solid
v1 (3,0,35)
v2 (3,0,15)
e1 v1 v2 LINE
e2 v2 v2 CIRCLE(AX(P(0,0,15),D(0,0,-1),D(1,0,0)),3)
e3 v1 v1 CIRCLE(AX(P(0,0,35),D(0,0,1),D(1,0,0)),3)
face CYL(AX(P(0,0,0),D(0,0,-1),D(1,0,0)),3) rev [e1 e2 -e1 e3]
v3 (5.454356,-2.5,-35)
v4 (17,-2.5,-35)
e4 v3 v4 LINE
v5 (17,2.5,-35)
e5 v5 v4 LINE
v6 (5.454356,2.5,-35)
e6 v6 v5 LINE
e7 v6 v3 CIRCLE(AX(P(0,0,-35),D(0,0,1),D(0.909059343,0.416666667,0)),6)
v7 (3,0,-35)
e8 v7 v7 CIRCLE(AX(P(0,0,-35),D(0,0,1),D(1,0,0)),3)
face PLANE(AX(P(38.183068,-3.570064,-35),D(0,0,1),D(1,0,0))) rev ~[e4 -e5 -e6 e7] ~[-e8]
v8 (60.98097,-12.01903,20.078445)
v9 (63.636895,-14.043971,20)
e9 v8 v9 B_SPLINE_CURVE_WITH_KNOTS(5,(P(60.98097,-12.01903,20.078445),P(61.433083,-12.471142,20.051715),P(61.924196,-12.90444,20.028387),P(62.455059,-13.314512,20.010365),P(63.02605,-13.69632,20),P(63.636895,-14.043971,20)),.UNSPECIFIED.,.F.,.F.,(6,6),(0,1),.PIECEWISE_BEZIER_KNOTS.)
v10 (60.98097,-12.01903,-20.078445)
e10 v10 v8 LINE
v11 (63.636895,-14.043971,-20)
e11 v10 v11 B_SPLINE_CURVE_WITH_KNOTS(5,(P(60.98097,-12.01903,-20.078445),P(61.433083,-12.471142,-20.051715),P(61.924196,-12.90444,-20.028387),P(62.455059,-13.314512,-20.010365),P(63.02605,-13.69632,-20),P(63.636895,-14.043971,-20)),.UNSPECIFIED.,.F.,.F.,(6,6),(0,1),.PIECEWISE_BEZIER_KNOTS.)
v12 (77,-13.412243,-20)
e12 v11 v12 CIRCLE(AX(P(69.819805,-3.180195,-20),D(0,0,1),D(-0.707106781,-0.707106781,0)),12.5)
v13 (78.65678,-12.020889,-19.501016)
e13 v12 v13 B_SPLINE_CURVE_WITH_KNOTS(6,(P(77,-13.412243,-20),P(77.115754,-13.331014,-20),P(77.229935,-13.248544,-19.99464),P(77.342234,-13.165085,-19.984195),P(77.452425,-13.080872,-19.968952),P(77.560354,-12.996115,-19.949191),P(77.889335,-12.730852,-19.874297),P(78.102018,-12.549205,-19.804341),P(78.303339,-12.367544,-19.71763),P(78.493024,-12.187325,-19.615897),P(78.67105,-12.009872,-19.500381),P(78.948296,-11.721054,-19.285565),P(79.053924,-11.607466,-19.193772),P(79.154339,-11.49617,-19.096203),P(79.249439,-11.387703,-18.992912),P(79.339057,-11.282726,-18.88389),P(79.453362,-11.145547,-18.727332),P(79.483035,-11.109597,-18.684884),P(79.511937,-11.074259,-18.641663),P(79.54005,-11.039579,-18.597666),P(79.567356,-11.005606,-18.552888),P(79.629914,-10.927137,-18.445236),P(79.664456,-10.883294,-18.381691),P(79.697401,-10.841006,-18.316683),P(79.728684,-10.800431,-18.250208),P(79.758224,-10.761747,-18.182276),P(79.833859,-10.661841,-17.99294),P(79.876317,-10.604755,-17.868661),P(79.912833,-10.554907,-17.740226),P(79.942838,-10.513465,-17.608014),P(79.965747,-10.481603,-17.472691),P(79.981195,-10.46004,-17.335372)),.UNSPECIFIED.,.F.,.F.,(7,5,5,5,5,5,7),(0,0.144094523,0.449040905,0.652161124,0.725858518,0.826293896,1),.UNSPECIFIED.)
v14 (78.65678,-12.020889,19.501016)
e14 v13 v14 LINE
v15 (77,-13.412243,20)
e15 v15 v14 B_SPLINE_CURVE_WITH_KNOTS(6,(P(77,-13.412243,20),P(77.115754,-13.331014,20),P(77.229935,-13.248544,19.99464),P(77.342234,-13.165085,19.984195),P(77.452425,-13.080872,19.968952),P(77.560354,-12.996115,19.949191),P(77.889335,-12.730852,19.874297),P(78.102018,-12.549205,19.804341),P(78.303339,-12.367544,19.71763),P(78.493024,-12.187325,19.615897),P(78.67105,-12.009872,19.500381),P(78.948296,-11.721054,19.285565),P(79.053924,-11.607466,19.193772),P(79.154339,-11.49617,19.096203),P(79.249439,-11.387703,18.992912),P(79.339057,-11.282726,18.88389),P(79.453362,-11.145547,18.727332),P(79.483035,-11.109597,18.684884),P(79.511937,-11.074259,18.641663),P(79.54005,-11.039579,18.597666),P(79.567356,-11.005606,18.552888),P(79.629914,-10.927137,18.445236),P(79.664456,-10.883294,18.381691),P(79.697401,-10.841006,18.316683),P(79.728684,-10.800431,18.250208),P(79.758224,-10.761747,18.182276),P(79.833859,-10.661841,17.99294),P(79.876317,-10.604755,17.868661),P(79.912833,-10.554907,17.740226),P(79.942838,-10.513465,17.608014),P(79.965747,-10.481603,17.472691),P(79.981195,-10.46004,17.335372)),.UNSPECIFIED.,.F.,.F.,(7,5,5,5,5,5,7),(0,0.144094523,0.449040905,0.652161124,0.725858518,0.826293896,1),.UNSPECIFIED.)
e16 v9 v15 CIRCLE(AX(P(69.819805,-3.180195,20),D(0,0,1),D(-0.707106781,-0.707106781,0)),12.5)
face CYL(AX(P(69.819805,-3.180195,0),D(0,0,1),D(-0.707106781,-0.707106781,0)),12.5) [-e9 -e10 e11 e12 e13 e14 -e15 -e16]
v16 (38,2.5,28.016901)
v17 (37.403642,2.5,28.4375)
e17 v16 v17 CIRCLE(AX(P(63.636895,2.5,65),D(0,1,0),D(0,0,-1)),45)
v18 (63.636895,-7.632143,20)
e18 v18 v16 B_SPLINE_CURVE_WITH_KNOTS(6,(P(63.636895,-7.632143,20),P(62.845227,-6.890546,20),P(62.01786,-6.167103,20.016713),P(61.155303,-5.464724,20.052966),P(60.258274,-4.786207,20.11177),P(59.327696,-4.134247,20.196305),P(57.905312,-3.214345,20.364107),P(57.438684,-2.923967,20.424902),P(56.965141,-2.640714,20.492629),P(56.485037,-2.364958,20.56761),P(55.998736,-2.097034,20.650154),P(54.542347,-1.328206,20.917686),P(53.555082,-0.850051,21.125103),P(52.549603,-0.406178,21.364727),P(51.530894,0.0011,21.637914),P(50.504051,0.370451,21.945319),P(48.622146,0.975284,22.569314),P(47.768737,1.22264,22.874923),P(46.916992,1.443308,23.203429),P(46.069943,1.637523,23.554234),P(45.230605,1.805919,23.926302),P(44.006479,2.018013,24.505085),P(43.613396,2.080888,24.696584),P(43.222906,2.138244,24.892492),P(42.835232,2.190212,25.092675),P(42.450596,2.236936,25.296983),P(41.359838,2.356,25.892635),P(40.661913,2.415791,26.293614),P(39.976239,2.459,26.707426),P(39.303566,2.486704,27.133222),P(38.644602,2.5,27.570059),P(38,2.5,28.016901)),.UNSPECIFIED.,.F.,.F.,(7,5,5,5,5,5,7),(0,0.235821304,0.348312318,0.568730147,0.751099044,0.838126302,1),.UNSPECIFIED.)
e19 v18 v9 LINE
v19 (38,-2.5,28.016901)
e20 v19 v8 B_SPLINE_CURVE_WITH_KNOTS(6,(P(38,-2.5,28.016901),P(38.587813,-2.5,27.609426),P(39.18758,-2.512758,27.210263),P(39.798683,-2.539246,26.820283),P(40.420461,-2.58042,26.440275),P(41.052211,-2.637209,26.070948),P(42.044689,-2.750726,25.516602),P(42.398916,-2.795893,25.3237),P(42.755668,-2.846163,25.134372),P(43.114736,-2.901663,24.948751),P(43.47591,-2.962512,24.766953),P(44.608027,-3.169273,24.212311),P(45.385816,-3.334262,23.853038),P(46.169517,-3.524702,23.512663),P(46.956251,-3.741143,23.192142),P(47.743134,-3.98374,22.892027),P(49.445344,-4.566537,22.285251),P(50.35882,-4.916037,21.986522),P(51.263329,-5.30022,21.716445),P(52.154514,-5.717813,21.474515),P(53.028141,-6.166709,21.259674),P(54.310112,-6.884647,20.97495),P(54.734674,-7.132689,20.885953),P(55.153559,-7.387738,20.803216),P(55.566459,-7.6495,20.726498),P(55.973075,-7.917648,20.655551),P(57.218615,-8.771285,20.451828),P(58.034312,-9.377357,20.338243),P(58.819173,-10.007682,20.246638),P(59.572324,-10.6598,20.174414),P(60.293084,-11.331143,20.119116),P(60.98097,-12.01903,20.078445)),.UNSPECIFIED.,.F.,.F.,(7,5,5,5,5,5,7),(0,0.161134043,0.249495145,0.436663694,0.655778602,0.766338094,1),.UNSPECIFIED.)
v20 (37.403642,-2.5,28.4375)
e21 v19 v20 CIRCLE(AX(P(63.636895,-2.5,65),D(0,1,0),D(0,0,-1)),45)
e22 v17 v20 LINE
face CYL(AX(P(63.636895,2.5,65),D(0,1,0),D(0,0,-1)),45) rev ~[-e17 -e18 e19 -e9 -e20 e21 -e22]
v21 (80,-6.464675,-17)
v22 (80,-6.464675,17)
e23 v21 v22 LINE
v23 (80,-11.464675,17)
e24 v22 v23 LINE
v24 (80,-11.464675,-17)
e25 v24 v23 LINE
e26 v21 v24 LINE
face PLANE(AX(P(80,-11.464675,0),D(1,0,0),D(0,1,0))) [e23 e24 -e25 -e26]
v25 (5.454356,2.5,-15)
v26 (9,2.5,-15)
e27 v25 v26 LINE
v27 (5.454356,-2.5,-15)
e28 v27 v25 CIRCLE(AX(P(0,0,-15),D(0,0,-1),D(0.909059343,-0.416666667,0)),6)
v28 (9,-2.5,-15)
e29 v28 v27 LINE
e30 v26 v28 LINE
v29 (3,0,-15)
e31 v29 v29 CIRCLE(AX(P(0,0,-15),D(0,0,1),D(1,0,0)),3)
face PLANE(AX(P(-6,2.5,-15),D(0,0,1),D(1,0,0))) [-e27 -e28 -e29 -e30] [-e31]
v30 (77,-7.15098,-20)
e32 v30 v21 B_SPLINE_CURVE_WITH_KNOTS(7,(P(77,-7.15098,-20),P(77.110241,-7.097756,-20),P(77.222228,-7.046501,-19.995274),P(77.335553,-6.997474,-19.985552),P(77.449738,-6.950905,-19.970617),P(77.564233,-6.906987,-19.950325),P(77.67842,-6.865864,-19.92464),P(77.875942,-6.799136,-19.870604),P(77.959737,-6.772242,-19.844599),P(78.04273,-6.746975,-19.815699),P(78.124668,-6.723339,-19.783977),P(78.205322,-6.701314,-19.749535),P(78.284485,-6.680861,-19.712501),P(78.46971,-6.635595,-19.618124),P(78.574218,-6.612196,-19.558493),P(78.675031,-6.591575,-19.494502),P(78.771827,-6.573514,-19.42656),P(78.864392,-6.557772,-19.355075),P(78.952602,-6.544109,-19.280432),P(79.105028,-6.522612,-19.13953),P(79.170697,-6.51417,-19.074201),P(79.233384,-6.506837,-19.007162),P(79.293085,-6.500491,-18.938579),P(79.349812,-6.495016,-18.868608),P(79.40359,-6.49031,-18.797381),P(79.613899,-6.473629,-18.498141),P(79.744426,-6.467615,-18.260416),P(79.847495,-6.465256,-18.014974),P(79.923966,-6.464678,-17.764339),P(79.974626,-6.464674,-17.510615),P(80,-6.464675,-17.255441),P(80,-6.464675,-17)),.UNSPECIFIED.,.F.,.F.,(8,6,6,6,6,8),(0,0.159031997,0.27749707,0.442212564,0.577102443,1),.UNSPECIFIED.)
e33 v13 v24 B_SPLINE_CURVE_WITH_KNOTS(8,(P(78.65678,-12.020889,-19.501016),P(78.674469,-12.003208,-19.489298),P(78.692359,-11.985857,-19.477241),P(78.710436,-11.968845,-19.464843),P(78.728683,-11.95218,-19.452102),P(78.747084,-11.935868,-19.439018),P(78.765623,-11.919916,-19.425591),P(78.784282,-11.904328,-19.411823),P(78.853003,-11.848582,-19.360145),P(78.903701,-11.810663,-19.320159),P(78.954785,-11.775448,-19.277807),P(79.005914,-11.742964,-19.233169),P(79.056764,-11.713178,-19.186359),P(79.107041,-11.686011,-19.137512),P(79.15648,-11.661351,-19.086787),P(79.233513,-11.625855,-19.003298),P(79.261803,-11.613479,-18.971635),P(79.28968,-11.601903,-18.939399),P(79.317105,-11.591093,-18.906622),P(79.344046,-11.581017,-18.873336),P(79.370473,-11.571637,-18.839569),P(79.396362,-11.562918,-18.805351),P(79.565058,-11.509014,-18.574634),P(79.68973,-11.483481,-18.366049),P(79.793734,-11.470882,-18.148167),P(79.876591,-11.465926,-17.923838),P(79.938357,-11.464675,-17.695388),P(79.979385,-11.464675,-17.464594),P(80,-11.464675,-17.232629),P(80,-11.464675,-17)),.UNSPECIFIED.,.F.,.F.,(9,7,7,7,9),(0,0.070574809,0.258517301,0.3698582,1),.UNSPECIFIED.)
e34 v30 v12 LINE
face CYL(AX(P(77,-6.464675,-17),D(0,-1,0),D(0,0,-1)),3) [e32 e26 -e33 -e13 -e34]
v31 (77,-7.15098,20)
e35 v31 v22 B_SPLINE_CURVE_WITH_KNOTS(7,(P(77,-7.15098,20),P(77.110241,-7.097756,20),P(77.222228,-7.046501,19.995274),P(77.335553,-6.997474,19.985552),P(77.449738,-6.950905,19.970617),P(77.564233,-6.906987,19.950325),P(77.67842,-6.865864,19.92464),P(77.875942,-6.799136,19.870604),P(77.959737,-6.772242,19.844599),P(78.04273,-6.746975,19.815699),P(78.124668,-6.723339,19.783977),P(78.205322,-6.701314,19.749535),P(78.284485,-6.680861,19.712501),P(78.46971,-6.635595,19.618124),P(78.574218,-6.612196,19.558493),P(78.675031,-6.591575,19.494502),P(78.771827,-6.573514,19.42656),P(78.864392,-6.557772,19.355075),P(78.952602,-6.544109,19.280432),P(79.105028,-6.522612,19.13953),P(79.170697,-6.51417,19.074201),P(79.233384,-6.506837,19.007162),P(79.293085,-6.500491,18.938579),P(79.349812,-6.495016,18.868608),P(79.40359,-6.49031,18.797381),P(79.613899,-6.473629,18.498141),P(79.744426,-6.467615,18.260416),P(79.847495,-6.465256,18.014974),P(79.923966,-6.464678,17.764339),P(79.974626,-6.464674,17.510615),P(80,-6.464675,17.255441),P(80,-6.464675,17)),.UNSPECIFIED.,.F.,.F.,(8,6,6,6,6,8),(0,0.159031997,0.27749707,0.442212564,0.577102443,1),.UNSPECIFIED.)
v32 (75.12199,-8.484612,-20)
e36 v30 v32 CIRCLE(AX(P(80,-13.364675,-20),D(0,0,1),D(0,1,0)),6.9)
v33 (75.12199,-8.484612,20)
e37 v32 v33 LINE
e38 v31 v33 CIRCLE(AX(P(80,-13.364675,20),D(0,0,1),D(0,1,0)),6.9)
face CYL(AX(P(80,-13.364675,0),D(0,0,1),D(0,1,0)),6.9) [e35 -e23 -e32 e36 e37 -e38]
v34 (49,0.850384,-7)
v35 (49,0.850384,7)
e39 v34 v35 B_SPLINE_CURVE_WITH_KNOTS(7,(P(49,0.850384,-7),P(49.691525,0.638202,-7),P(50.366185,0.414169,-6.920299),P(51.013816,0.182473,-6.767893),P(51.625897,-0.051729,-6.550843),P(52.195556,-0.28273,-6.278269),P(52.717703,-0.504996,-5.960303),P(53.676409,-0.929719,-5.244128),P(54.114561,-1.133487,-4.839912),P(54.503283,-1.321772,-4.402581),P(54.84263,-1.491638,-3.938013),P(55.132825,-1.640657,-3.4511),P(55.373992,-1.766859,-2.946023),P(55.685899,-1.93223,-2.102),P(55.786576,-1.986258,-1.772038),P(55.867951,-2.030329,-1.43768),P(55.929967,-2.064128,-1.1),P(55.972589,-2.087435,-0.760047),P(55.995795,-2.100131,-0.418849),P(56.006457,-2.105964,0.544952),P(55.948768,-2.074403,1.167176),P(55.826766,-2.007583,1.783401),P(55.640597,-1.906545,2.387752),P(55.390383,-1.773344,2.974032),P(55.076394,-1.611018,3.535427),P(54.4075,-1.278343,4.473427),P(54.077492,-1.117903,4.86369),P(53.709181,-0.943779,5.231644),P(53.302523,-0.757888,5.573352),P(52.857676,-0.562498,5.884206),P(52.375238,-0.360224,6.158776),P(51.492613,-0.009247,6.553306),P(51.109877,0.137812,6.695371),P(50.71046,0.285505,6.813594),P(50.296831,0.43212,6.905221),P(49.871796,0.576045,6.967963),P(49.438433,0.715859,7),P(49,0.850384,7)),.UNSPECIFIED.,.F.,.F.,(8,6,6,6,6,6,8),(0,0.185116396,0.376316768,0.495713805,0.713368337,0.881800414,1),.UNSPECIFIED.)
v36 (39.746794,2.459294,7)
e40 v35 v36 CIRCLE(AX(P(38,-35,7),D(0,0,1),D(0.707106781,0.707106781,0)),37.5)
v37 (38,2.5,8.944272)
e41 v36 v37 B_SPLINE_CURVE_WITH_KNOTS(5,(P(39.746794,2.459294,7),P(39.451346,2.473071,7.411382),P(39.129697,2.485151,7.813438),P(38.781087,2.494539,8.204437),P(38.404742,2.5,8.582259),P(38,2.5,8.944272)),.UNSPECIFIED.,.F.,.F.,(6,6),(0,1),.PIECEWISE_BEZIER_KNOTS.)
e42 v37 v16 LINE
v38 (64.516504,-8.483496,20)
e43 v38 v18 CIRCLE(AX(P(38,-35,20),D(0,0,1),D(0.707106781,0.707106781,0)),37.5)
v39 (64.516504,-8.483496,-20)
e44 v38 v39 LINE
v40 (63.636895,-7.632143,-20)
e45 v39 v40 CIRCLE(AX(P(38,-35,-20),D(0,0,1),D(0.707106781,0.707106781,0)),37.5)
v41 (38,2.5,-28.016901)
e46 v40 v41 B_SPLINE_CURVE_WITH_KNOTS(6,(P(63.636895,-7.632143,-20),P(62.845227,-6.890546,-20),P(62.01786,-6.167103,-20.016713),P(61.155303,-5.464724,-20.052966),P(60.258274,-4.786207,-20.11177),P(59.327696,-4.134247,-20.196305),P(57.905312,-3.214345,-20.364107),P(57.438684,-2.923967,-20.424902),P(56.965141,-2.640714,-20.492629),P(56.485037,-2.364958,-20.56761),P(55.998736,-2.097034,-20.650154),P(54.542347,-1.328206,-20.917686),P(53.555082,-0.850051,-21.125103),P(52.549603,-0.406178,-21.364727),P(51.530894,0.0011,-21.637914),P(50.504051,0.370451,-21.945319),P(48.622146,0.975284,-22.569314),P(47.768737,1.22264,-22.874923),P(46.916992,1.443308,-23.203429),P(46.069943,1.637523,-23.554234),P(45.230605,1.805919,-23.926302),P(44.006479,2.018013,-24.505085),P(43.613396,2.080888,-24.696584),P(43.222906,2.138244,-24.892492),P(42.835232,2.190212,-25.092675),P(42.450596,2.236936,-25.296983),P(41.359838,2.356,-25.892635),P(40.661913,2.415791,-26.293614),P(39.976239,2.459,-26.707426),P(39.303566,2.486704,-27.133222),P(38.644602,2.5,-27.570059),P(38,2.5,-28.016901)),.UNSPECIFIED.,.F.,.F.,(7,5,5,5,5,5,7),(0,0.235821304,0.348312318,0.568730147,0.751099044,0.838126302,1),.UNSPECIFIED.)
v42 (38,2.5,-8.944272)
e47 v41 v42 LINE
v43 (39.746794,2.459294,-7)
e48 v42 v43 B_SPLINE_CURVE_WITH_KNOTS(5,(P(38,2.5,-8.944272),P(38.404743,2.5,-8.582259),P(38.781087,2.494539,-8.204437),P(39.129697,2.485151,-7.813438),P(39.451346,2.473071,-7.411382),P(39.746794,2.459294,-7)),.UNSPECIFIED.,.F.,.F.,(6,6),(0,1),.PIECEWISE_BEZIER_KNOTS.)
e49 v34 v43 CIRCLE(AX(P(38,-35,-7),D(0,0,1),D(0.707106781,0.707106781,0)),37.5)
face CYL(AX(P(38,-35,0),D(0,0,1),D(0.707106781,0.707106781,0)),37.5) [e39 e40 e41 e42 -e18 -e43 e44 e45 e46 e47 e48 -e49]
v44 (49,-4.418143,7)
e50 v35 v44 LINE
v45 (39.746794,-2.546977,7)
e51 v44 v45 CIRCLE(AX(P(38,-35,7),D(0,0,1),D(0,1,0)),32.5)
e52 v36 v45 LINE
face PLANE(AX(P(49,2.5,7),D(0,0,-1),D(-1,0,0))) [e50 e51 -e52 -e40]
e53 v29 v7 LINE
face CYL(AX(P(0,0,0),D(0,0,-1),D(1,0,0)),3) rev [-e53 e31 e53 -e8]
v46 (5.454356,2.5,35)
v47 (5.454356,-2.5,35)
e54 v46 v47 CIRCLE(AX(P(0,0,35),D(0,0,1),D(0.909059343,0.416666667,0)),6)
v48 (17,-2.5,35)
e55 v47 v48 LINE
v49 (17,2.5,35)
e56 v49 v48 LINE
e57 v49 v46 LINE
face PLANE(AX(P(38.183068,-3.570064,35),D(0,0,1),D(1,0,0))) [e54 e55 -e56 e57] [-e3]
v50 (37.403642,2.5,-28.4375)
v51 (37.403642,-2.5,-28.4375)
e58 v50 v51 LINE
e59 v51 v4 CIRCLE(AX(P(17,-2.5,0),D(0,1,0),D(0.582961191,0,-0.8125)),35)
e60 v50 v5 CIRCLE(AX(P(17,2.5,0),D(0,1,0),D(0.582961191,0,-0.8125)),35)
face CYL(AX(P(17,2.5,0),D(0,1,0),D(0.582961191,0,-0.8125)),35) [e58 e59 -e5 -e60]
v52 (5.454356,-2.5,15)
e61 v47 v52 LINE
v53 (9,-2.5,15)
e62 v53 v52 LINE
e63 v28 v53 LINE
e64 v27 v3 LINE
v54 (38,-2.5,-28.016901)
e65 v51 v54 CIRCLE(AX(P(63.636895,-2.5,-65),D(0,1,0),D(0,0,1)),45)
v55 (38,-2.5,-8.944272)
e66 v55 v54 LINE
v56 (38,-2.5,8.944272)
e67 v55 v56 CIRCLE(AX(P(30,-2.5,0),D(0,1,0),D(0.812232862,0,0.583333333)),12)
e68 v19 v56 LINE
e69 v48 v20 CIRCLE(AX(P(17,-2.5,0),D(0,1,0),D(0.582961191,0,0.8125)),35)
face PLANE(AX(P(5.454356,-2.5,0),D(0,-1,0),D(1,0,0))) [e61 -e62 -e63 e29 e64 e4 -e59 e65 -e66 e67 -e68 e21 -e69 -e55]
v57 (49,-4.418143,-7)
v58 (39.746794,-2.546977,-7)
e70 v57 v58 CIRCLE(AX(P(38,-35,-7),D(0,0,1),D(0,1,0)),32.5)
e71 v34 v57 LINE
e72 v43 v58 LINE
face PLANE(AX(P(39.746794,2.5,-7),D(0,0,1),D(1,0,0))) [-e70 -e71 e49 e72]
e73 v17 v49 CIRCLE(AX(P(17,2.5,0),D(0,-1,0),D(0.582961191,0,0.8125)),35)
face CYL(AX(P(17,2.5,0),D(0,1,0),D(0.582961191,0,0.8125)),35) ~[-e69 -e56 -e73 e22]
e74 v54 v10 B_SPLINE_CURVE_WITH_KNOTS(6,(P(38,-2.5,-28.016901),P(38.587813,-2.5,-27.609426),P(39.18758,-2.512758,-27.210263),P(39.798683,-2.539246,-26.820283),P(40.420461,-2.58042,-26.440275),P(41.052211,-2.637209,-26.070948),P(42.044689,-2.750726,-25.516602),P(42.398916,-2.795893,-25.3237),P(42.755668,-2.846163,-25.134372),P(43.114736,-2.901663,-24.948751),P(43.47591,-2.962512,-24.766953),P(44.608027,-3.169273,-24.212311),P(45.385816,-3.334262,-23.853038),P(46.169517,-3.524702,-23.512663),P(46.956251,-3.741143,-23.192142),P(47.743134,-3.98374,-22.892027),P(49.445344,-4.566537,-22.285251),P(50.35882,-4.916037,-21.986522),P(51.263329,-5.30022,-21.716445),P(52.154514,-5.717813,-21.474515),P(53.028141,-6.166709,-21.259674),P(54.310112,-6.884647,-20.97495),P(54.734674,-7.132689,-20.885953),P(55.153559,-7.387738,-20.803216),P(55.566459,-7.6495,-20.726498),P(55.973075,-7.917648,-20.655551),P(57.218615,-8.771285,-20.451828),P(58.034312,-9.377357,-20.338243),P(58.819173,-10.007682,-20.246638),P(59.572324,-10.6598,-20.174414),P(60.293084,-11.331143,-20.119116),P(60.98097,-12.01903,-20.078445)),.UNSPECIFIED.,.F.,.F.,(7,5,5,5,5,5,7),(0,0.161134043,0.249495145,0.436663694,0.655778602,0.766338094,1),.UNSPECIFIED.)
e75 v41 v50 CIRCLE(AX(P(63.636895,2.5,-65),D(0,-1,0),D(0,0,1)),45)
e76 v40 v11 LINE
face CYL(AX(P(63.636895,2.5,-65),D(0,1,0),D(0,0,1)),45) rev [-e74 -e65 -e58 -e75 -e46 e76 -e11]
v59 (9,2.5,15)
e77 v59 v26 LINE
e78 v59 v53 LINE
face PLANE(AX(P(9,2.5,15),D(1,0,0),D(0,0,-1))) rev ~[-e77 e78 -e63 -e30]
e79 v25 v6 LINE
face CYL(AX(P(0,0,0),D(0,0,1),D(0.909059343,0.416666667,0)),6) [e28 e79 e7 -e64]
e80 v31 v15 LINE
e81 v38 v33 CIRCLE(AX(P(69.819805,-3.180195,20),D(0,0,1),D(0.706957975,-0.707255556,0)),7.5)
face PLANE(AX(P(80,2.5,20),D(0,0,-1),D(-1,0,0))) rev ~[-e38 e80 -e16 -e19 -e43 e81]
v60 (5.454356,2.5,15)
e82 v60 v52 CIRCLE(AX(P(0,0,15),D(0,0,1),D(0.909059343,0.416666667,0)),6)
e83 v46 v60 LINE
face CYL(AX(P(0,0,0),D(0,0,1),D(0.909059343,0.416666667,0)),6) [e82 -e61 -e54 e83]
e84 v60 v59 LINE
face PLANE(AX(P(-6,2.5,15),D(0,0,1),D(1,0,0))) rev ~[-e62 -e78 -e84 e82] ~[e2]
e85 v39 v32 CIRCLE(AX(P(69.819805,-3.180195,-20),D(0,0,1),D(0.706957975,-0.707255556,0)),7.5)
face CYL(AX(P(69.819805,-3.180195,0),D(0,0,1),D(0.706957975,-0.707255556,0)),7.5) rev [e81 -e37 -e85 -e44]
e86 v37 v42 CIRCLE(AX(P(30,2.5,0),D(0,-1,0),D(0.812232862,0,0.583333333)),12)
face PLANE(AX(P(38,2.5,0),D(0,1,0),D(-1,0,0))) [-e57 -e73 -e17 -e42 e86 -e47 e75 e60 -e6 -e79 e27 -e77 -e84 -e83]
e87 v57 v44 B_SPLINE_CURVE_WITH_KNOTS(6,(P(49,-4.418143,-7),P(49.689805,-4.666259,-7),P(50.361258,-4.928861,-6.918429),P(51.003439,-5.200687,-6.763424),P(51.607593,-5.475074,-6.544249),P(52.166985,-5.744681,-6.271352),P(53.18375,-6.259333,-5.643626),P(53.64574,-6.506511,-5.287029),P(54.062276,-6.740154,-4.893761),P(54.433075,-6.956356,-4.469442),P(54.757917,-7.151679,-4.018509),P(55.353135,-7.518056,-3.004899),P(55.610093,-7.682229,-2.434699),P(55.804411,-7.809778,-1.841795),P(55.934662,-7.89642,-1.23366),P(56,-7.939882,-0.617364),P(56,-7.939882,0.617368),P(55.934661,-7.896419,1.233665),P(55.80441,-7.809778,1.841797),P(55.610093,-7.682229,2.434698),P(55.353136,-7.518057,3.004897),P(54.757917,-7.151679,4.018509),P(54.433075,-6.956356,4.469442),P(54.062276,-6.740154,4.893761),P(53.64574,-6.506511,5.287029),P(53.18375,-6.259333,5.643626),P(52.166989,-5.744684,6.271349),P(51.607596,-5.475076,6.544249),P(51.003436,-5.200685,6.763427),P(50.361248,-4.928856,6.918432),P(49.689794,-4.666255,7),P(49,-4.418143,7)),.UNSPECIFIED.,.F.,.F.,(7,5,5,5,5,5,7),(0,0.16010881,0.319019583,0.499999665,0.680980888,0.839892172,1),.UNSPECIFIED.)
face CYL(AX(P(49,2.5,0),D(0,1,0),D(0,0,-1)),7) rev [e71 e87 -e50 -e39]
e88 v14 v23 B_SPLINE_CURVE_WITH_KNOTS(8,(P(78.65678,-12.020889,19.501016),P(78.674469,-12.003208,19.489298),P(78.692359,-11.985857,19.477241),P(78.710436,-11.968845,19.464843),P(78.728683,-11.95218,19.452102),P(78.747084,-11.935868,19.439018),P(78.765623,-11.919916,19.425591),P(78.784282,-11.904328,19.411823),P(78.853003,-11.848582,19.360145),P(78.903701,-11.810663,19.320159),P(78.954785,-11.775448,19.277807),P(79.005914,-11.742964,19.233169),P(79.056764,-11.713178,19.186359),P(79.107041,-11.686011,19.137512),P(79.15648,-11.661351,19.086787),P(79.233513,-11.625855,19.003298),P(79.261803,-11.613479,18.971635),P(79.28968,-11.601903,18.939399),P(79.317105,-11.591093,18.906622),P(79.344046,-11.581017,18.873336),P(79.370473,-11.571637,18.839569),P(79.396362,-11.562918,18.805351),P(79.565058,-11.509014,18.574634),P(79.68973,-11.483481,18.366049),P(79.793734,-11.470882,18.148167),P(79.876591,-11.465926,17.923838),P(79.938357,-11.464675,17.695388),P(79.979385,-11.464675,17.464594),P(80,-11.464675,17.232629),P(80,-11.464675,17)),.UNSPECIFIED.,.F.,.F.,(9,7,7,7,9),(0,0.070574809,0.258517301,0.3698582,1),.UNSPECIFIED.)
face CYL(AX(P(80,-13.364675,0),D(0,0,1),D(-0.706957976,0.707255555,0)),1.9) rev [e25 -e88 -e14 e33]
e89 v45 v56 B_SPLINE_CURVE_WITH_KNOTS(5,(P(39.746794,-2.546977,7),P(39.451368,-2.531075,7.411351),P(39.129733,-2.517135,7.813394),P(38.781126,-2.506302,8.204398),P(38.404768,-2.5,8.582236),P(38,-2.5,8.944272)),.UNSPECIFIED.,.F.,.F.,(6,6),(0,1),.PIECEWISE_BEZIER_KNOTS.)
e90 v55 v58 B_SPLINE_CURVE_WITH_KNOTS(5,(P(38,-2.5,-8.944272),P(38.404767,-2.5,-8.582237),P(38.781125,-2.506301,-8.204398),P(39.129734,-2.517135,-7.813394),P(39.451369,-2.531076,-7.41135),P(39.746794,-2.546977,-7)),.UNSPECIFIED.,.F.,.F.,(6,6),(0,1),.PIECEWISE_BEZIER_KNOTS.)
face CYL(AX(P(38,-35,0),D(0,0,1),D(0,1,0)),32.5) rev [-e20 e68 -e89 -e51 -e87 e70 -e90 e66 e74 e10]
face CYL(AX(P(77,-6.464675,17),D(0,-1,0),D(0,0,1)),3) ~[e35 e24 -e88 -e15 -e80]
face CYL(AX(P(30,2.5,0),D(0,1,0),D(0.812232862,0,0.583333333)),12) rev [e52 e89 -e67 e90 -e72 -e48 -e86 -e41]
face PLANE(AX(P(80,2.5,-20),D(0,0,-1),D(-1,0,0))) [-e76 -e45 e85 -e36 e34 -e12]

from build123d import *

# Parameters (mm, degrees)
SKETCH1_R               = 3
BOSS_EXTRUDE1_DEPTH     = 35
SKETCH2_W               = 15
SKETCH2_H               = 30
CUT_EXTRUDE2_DEPTH      = 4.5
CUT_EXTRUDE2_DEPTH_BACK = 19.180194847
CUT_EXTRUDE3_DEPTH      = 4.5
CUT_EXTRUDE3_DEPTH_BACK = 19.180194847
CUT_EXTRUDE5_DEPTH      = 4.5
CUT_EXTRUDE5_DEPTH_BACK = 19.180194847
FILLET2_R               = 3


with BuildPart() as part:
    # Sketch1 → Boss-Extrude1 (new body, symmetric)
    with BuildSketch(Plane.XY):
        with BuildLine():
            Line((6, -2.5), (38, -2.5))
            ThreePointArc((38, -2.5), (50.437211552, -4.973915193), (60.980970389, -12.019029611))
            ThreePointArc((60.980970389, -12.019029611), (69.818490023, -15.680194777), (78.656779847, -12.020889292))
            ThreePointArc((78.656779847, -12.020889292), (79.273086166, -11.609227247), (80, -11.464674847))
            Line((80, -11.464674847), (80, -6.464674847))
            ThreePointArc((80, -6.464674847), (77.360155024, -6.989628298), (75.121989969, -8.484611514))
            ThreePointArc((75.121989969, -8.484611514), (69.819016075, -10.680194805), (64.516504294, -8.483495706))
            ThreePointArc((64.516504294, -8.483495706), (52.350628714, -0.354517531), (38, 2.5))
            Line((38, 2.5), (6, 2.5))
            Line((6, 2.5), (5.454356057, 2.5))
            ThreePointArc((5.454356057, 2.5), (-6, 0), (5.454356057, -2.5))
            Line((5.454356057, -2.5), (6, -2.5))
        make_face()
        Circle(SKETCH1_R, mode=Mode.SUBTRACT)
    extrude(amount=BOSS_EXTRUDE1_DEPTH, both=True)

    # Sketch2 → Cut-Extrude2 (cut, two sides)
    with BuildSketch(Plane(origin=(0, 2.5, 0), x_dir=(1, 0, 0), z_dir=(0, 1, 0))) as cut_extrude2_sk:
        with Locations((1.5, 0)):
            Rectangle(SKETCH2_W, SKETCH2_H)
    extrude(amount=CUT_EXTRUDE2_DEPTH, mode=Mode.SUBTRACT)
    extrude(cut_extrude2_sk.sketch, amount=-CUT_EXTRUDE2_DEPTH_BACK, mode=Mode.SUBTRACT)

    # Sketch3 → Cut-Extrude3 (cut, two sides)
    with BuildSketch(Plane(origin=(0, 2.5, 0), x_dir=(1, 0, 0), z_dir=(0, 1, 0))) as cut_extrude3_sk:
        with BuildLine():
            Line((39.746794345, 7), (49, 7))
            ThreePointArc((49, 7), (56, 0), (49, -7))
            Line((49, -7), (39.746794345, -7))
            ThreePointArc((39.746794345, -7), (18, 0), (39.746794345, 7))
        make_face()
    extrude(amount=CUT_EXTRUDE3_DEPTH, mode=Mode.SUBTRACT)
    extrude(cut_extrude3_sk.sketch, amount=-CUT_EXTRUDE3_DEPTH_BACK, mode=Mode.SUBTRACT)

    # Sketch4 → Cut-Extrude5 (cut, two sides)
    with BuildSketch(Plane(origin=(0, 2.5, 0), x_dir=(1, 0, 0), z_dir=(0, 1, 0))) as cut_extrude5_sk:
        with BuildLine():
            Line((80, -20), (63.636895265, -20))
            ThreePointArc((63.636895265, -20), (49.858515462, -22.16127628), (37.403641679, -28.4375))
            ThreePointArc((37.403641679, -28.4375), (27.716517625, -33.319007338), (17, -35))
            Line((17, -35), (80, -35))
            Line((80, -35), (80, -20))
        make_face()
        with BuildLine():
            Line((80, 20), (63.636895265, 20))
            ThreePointArc((63.636895265, 20), (49.858515462, 22.16127628), (37.403641679, 28.4375))
            ThreePointArc((37.403641679, 28.4375), (27.716517625, 33.319007338), (17, 35))
            Line((17, 35), (80, 35))
            Line((80, 35), (80, 20))
        make_face()
    extrude(amount=CUT_EXTRUDE5_DEPTH, mode=Mode.SUBTRACT)
    extrude(cut_extrude5_sk.sketch, amount=-CUT_EXTRUDE5_DEPTH_BACK, mode=Mode.SUBTRACT)

    # Fillet2
    fillet2_edges = [part.edges().sort_by_distance(p)[0] for p in [
        (80, -8.964674847, -20),
        (80, -8.964674847, 20),
    ]]
    fillet(fillet2_edges, radius=FILLET2_R)


solid = part.part
